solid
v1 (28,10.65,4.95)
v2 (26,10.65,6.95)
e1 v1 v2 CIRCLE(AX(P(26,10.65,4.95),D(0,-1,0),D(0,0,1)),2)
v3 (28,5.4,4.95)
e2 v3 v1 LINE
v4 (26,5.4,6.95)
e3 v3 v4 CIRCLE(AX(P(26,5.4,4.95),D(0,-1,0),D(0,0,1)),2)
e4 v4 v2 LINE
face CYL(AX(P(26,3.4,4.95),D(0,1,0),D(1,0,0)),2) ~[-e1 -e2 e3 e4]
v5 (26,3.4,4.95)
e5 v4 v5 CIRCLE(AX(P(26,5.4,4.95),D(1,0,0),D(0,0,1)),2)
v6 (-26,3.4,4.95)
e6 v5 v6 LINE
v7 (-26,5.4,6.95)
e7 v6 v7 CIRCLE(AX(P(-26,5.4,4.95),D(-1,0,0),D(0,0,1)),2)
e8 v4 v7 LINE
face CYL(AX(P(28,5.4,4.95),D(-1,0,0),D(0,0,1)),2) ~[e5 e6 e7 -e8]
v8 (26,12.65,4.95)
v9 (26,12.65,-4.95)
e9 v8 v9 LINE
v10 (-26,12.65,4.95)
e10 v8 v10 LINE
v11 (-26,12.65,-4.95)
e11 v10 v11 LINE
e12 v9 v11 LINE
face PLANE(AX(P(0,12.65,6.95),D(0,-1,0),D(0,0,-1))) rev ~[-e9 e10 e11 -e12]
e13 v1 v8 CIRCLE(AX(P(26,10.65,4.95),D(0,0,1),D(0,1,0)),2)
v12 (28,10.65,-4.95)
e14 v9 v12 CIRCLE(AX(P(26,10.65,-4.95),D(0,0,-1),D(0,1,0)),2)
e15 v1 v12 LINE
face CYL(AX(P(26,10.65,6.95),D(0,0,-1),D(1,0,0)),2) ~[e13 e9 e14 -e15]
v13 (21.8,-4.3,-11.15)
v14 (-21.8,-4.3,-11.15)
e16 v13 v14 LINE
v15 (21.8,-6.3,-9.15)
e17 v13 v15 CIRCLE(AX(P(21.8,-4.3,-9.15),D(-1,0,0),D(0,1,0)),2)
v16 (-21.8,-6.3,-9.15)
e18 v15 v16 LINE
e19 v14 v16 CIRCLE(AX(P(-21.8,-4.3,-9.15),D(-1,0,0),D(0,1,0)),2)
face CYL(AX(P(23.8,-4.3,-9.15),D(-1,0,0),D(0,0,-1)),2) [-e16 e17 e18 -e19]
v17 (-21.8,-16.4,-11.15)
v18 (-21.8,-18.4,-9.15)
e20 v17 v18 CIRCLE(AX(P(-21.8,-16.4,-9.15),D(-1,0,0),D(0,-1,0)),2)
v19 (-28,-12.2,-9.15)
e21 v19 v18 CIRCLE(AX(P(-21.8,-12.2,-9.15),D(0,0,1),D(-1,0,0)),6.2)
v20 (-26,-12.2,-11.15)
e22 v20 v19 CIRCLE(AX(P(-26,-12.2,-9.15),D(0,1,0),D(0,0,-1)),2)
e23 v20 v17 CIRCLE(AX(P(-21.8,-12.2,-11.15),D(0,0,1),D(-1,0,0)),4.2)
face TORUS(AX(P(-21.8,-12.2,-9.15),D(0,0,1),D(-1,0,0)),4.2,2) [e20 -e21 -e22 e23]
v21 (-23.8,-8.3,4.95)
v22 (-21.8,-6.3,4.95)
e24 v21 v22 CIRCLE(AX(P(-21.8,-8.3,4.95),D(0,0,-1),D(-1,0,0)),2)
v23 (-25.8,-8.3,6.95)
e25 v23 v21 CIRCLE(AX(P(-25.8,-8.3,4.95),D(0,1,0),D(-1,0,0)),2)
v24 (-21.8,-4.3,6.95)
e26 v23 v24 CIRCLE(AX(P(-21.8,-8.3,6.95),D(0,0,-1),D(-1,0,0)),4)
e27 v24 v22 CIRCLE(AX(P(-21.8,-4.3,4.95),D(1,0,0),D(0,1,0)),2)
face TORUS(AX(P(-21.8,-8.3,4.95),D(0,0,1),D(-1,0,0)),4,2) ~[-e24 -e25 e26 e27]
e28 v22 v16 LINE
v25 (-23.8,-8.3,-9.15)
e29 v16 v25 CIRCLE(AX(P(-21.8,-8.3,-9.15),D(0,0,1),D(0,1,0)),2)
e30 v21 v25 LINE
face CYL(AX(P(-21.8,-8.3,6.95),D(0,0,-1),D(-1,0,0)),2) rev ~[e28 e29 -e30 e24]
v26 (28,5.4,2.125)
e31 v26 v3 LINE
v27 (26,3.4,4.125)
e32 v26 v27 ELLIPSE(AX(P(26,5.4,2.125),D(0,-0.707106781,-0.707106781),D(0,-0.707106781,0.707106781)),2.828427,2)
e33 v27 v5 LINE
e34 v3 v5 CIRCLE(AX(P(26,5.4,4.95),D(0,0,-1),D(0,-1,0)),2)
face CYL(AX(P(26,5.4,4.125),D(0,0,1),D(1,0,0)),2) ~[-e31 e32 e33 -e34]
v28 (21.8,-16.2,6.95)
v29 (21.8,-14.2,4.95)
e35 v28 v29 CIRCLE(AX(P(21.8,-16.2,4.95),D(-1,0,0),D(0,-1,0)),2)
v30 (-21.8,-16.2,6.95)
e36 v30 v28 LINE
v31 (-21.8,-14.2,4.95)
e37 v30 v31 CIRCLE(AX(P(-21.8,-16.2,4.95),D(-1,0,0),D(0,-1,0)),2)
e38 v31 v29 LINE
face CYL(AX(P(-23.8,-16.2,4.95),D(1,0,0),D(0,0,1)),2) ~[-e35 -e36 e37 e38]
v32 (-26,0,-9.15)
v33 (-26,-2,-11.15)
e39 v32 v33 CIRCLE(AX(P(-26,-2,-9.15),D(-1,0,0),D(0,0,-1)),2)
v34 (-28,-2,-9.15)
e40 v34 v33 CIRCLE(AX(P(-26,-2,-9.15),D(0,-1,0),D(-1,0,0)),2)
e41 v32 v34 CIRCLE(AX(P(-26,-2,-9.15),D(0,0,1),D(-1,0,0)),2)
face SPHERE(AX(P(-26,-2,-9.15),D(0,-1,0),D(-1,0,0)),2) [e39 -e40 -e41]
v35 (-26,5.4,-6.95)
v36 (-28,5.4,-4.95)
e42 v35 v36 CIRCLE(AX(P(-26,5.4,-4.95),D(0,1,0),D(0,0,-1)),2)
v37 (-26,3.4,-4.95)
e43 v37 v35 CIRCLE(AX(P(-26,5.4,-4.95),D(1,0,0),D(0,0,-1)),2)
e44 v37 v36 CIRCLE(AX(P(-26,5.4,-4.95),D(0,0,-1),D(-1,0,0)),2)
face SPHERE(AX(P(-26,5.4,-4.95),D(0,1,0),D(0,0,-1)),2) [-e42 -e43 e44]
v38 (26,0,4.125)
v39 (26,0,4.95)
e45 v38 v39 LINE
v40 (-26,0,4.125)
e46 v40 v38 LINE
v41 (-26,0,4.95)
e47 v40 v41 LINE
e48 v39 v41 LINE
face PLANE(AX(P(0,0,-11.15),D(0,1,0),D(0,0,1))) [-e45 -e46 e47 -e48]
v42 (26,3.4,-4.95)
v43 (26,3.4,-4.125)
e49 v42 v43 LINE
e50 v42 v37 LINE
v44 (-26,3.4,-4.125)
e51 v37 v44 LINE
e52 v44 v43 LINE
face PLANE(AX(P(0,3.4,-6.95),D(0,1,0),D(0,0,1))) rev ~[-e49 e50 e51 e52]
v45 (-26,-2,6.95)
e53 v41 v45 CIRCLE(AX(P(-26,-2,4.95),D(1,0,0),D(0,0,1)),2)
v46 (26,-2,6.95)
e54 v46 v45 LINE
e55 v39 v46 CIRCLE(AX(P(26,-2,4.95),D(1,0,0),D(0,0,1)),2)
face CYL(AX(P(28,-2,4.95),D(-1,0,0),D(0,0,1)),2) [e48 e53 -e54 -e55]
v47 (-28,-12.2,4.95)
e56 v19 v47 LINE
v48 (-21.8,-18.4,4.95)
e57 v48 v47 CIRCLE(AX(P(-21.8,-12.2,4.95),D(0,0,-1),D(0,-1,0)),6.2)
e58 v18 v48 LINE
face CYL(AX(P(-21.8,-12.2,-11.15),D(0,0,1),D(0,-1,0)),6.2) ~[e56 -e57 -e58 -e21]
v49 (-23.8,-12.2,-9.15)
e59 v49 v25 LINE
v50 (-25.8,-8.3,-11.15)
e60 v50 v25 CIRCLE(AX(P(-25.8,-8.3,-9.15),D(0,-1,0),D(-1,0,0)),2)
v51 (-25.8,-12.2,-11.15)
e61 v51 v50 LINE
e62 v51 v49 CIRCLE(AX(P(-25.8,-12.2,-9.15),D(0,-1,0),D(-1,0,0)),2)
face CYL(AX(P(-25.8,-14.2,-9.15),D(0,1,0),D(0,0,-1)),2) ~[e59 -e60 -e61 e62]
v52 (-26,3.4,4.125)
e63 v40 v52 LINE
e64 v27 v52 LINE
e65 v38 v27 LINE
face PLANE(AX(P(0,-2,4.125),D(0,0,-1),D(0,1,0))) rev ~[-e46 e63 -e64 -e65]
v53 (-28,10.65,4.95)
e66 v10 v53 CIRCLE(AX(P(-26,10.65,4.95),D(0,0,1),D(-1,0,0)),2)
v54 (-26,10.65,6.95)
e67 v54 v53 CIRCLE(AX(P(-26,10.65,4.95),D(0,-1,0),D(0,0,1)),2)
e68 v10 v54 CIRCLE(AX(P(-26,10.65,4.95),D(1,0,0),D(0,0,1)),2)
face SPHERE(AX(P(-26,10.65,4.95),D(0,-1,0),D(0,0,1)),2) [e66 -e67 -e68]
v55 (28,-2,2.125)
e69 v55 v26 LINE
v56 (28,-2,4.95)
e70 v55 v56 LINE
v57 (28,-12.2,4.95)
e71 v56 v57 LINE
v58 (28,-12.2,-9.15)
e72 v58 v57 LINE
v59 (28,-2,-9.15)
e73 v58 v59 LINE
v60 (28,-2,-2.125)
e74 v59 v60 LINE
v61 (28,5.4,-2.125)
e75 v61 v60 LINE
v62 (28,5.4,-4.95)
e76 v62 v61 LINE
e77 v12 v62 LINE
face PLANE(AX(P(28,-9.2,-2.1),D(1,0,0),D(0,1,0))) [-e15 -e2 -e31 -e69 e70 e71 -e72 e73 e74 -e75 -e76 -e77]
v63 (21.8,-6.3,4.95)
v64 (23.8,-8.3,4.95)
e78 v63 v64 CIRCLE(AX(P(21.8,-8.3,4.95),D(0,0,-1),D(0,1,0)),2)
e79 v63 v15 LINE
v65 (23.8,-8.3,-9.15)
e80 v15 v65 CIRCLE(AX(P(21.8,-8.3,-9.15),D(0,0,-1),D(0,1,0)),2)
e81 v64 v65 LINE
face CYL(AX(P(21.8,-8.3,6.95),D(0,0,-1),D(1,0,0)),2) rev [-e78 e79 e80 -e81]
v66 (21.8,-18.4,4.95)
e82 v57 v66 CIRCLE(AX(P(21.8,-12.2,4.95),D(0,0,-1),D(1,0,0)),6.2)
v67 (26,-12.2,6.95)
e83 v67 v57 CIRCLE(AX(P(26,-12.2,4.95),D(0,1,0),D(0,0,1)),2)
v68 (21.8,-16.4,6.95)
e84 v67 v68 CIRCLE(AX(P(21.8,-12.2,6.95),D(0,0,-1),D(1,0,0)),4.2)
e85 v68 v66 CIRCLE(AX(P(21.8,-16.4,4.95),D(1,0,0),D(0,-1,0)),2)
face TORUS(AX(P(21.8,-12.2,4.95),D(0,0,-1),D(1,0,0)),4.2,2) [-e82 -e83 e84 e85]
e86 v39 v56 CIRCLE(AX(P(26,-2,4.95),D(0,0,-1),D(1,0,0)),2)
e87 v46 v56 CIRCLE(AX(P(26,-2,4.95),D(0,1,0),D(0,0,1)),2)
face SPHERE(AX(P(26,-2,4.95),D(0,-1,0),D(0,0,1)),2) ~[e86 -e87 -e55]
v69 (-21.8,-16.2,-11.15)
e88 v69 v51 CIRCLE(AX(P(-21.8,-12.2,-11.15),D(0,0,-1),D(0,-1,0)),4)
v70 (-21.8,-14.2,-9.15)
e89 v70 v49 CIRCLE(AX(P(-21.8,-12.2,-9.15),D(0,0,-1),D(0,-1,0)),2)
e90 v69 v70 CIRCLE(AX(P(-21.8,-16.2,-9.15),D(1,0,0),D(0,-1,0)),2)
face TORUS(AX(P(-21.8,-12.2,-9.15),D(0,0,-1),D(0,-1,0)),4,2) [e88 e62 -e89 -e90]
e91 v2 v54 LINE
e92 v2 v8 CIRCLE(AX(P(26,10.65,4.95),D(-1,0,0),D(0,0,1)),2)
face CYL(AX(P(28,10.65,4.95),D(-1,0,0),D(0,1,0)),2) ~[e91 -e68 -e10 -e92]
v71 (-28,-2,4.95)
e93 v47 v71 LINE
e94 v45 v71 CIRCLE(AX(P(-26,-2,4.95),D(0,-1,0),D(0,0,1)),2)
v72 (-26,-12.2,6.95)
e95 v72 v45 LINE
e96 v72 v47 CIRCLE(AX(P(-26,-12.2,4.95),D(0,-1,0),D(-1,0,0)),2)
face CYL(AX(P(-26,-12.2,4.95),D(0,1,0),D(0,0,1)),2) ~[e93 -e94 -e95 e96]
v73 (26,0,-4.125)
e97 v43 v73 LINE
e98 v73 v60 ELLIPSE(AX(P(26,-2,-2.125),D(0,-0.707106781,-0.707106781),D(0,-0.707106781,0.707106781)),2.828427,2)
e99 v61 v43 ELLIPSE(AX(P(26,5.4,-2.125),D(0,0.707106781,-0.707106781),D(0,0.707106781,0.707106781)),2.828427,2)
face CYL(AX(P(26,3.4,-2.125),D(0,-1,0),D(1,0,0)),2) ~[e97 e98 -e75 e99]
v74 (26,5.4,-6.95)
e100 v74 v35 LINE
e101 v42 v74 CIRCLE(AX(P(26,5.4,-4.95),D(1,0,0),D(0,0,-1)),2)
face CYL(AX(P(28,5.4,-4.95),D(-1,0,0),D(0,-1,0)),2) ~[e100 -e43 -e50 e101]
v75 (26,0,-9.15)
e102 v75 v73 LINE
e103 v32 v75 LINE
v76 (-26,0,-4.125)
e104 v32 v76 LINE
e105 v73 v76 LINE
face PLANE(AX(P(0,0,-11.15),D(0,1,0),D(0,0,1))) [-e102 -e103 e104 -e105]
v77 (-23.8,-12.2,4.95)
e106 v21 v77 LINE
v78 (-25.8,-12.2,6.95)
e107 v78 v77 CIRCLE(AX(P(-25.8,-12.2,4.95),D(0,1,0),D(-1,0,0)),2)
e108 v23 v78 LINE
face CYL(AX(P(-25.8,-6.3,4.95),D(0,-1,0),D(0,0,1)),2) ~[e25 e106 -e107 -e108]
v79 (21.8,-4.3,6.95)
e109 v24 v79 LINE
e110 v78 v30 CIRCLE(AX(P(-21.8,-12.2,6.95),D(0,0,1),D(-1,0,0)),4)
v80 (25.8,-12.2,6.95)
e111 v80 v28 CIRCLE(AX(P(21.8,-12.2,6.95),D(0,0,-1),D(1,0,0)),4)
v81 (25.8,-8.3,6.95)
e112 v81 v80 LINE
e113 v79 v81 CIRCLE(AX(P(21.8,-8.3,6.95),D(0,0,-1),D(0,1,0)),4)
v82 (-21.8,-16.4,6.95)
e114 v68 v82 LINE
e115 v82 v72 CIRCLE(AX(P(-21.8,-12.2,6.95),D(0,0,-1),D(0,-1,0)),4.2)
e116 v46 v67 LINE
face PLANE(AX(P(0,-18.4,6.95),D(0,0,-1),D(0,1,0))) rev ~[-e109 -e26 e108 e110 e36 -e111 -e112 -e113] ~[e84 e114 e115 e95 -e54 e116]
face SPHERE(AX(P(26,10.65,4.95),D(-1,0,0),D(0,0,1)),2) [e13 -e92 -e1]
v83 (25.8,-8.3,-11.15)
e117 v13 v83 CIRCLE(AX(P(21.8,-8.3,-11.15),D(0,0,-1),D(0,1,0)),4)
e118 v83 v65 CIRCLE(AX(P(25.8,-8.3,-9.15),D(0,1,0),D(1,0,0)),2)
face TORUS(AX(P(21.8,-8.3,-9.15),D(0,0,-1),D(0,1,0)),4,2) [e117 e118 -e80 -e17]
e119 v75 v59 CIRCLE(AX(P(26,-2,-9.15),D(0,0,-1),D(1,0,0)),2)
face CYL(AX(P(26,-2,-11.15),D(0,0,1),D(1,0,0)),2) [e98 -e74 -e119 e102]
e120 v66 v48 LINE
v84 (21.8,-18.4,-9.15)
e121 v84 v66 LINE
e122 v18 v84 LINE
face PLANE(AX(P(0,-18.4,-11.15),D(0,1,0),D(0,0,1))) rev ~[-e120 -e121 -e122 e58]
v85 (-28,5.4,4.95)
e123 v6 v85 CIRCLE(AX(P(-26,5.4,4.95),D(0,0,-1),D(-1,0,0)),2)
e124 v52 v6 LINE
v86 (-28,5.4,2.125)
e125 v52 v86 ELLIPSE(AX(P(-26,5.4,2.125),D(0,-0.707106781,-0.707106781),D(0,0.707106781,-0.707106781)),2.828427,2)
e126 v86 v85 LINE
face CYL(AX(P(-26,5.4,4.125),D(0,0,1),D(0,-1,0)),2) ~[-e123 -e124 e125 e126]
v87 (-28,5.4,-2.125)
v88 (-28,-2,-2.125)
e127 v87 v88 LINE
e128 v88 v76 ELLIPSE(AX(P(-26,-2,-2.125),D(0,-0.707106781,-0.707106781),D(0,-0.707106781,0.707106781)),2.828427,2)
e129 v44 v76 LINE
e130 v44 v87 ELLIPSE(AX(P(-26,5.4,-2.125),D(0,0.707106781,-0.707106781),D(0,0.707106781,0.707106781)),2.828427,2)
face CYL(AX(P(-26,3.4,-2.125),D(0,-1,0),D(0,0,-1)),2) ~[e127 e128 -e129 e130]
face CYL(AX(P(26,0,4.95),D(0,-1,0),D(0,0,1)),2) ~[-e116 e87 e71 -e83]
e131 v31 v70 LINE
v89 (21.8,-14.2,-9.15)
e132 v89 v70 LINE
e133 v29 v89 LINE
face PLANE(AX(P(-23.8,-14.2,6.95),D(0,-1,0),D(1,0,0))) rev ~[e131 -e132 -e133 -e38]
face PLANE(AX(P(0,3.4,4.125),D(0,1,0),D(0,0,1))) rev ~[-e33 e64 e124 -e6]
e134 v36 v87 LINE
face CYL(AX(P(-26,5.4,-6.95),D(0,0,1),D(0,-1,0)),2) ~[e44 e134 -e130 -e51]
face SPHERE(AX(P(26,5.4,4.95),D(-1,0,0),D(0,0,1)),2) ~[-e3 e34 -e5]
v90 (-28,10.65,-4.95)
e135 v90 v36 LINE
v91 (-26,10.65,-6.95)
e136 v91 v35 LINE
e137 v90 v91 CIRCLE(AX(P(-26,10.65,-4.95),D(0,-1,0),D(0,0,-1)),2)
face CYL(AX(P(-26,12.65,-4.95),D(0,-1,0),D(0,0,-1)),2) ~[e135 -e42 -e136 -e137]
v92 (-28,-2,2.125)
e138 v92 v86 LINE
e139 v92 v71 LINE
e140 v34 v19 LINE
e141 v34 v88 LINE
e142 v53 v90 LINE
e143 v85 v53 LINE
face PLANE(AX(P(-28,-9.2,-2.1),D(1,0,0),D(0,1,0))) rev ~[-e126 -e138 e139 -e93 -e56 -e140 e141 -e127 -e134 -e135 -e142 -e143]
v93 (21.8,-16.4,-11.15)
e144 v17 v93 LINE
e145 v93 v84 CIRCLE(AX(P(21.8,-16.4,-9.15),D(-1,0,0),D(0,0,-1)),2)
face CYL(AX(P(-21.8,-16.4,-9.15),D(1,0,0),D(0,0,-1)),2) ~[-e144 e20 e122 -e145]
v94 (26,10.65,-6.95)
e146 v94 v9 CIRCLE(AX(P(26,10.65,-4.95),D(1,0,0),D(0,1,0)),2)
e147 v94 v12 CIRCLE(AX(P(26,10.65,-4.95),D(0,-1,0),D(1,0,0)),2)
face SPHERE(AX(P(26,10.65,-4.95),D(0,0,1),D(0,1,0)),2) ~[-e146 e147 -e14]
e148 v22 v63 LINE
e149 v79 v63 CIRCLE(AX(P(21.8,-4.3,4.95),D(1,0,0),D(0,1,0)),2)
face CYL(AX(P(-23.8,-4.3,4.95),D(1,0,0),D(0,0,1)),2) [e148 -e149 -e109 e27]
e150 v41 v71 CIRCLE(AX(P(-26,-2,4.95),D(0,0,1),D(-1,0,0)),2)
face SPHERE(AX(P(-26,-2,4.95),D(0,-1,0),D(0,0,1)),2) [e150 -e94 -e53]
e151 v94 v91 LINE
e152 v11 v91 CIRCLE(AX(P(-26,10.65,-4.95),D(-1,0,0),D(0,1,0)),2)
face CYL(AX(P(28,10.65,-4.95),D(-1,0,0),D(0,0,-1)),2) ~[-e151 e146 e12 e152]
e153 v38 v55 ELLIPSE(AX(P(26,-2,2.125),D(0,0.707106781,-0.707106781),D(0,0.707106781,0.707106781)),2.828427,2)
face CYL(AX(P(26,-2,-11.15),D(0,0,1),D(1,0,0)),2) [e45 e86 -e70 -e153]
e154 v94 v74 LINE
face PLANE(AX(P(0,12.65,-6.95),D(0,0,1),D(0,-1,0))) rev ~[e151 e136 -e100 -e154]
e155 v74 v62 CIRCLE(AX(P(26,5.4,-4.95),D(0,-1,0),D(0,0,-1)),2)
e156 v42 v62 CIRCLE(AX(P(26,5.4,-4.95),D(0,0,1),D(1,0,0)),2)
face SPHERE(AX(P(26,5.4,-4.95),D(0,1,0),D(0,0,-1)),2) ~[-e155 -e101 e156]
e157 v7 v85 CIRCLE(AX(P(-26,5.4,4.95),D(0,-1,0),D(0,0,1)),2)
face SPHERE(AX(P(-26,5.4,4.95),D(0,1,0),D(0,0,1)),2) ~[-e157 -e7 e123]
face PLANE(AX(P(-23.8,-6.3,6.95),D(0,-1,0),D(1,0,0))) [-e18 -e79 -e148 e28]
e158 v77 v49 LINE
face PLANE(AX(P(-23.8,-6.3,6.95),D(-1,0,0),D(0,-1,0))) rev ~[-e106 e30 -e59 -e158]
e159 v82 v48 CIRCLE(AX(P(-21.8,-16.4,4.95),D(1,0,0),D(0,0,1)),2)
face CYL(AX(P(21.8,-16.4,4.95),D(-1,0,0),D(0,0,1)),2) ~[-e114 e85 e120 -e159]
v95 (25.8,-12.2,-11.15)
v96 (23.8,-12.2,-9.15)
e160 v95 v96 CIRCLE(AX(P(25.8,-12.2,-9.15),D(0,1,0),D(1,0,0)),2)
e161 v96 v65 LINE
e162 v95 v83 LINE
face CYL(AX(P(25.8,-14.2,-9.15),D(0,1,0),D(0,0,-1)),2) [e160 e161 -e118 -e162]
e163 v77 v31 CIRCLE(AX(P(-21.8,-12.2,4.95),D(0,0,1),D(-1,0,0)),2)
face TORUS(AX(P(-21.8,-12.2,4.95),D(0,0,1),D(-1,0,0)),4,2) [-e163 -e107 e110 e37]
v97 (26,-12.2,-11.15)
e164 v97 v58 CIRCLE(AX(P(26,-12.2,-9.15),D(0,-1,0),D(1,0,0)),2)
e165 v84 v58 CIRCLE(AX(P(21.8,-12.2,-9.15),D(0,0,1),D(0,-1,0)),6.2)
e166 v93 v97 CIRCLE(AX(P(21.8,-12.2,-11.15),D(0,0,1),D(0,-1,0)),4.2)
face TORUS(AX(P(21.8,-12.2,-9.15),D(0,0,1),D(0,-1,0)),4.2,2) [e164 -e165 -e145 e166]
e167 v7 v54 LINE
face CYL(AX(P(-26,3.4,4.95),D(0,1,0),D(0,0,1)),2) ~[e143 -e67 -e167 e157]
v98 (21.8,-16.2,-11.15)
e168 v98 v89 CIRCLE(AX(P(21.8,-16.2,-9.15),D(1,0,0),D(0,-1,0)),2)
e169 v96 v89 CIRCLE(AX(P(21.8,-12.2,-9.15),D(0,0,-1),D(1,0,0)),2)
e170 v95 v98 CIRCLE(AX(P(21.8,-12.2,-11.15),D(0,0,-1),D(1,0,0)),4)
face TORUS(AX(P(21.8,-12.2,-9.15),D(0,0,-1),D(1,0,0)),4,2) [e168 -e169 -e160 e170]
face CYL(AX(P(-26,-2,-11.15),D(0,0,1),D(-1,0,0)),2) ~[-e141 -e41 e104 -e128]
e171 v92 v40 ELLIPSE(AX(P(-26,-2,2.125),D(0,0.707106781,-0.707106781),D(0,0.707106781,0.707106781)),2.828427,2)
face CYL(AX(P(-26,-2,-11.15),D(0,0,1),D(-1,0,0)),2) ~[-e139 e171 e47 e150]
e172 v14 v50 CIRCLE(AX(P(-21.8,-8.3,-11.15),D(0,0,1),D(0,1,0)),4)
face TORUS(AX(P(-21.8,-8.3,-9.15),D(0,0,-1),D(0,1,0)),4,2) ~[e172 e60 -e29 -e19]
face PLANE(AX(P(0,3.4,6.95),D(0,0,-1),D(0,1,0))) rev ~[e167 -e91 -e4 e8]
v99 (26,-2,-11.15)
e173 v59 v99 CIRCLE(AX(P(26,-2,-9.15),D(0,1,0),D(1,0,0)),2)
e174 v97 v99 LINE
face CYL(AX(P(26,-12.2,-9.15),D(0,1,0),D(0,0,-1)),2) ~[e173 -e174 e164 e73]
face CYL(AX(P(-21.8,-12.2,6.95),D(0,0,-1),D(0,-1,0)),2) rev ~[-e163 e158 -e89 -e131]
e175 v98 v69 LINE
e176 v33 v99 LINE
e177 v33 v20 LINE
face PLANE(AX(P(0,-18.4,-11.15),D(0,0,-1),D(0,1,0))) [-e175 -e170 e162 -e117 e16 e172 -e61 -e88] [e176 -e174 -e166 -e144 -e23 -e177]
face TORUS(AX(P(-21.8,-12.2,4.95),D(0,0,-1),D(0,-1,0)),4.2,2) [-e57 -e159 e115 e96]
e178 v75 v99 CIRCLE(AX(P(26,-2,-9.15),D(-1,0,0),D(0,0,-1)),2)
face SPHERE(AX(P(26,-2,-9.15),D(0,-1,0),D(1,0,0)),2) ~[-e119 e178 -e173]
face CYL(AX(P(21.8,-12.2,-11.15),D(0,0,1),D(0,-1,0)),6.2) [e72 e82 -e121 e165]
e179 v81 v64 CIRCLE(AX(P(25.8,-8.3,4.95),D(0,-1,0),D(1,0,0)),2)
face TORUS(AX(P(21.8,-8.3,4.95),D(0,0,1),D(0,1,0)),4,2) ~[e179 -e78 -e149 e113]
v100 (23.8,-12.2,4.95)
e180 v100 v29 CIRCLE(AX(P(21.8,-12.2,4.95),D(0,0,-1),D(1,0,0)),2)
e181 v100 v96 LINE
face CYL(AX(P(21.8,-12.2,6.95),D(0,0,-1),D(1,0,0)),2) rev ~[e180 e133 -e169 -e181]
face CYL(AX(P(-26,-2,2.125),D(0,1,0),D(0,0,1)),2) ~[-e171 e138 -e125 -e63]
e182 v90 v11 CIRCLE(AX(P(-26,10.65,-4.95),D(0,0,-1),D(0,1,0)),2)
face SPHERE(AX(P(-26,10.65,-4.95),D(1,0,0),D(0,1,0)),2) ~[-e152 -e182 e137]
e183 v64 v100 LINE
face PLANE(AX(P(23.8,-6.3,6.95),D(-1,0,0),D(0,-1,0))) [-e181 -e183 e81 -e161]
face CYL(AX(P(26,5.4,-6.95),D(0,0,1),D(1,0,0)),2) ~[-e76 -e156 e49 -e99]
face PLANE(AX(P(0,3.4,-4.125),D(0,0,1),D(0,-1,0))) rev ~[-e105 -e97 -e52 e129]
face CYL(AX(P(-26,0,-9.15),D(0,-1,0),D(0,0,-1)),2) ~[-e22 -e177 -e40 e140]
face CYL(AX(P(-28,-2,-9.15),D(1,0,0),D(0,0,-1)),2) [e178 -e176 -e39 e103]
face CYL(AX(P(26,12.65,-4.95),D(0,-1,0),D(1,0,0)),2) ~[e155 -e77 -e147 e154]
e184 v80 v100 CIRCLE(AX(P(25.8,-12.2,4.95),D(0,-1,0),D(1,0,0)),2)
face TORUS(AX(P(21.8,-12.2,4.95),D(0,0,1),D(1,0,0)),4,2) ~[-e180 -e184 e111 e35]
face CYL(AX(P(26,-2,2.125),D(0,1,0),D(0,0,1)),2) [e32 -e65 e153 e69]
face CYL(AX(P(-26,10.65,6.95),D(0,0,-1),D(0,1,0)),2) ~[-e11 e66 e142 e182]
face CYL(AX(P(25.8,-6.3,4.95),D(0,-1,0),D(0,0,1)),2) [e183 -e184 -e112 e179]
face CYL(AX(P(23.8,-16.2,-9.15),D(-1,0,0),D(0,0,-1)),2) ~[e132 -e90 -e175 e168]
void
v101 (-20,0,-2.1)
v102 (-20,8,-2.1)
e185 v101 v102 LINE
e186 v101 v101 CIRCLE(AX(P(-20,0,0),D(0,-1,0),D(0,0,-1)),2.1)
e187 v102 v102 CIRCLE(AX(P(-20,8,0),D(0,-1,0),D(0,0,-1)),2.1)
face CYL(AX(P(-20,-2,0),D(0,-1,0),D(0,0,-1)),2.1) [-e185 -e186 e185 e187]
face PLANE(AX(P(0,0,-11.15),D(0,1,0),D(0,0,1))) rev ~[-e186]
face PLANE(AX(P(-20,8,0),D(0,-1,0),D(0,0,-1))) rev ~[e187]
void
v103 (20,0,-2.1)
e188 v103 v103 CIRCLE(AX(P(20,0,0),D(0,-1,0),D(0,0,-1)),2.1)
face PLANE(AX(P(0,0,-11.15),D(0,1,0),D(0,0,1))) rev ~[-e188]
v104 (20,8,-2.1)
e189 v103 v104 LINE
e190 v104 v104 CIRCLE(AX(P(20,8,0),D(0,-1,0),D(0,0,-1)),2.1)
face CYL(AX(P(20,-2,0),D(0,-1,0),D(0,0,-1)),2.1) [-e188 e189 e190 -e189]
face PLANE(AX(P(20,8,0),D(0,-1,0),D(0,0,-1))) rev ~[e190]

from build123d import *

# Parameters (mm, degrees)
SKETCH001_W     = 18.4
SKETCH001_H     = 18.1
PAD001_DEPTH    = 28
SKETCH002_W     = 7.9
SKETCH002_H     = 47.6
POCKET_DEPTH    = 18.101
FILLET001_R     = 6.2
FILLET002_R     = 2
PAD_DEPTH       = 28
FILLET_R        = 2
SKETCH003_R     = 2.1
POCKET001_DEPTH = 10


with BuildPart() as socketbody:
    # Sketch001 → Pad001 (new body, symmetric)
    with BuildSketch(Plane.YZ):
        with Locations((-9.2, -2.1)):
            Rectangle(SKETCH001_W, SKETCH001_H)
    extrude(amount=PAD001_DEPTH, both=True)

    # Sketch002 (on Face1 of Pad001) → Pocket (cut, through all)
    with BuildSketch(Plane(origin=(0, 0, 6.95), x_dir=(0, -1, 0), z_dir=(0, 0, 1))):
        with Locations((10.25, 0)):
            Rectangle(SKETCH002_W, SKETCH002_H)
    extrude(amount=-POCKET_DEPTH, mode=Mode.SUBTRACT)

    # Fillet001
    fillet001_edges = [socketbody.edges().sort_by_distance(p)[0] for p in [
        (28, -18.4, -2.1),
        (-28, -18.4, -2.1),
    ]]
    fillet(fillet001_edges, radius=FILLET001_R)

    # Fillet002
    fillet002_edges = [socketbody.edges().sort_by_distance(p)[0] for p in [
        (-23.8, -10.25, 6.95),
        (0, -6.3, 6.95),
        (23.8, -10.25, 6.95),
        (0, -14.2, 6.95),
        (-23.8, -6.3, -2.1),
        (-28, -6.1, 6.95),
        (-26.184062, -16.584062, 6.95),
        (0, -18.4, 6.95),
        (26.184062, -16.584062, 6.95),
        (28, -6.1, 6.95),
        (0, 0, 6.95),
        (28, -6.1, -11.15),
        (26.184062, -16.584062, -11.15),
        (0, -18.4, -11.15),
        (-26.184062, -16.584062, -11.15),
        (28, 0, -2.1),
        (-28, 0, -2.1),
        (-28, -6.1, -11.15),
        (0, 0, -11.15),
        (0, -6.3, -11.15),
        (23.8, -10.25, -11.15),
        (0, -14.2, -11.15),
        (23.8, -14.2, -2.1),
        (-23.8, -10.25, -11.15),
        (-23.8, -14.2, -2.1),
        (23.8, -6.3, -2.1),
    ]]
    fillet(fillet002_edges, radius=FILLET002_R)


with BuildPart() as socketandrailbody:
    # Sketch → Pad (new body, symmetric)
    with BuildSketch(Plane.YZ):
        Polygon((-2, 4.125), (3.4, 4.125), (3.4, 6.95), (12.65, 6.95), (12.65, -6.95), (3.4, -6.95), (3.4, -4.125), (-2, -4.125), align=None)
    extrude(amount=PAD_DEPTH, both=True)

    # Fillet
    fillet_edges = [socketandrailbody.edges().sort_by_distance(p)[0] for p in [
        (-28, 8.025, 6.95),
        (0, 3.4, 6.95),
        (0, 12.65, 6.95),
        (28, 8.025, 6.95),
        (28, 12.65, 0),
        (0, 12.65, -6.95),
        (-28, 12.65, 0),
        (-28, 8.025, -6.95),
        (28, 8.025, -6.95),
        (0, 3.4, -6.95),
        (28, 3.4, -5.5375),
        (28, 3.4, 5.5375),
        (-28, 3.4, -5.5375),
        (-28, 0.7, -4.125),
        (28, 0.7, -4.125),
        (28, 0.7, 4.125),
        (-28, 0.7, 4.125),
        (-28, 3.4, 5.5375),
    ]]
    fillet(fillet_edges, radius=FILLET_R)

    # Sketch003 (on Face2 of Fillet) → Pocket001 (cut)
    with BuildSketch(Plane(origin=(0, -2, 0), x_dir=(0, 0, -1), z_dir=(0, -1, 0))):
        with Locations((0, 20)):
            Circle(SKETCH003_R)
        with Locations((0, -20)):
            Circle(SKETCH003_R)
    extrude(amount=-POCKET001_DEPTH, mode=Mode.SUBTRACT)

    # Fusion: union SocketBody
    add(socketbody.part)


solid = socketandrailbody.part
